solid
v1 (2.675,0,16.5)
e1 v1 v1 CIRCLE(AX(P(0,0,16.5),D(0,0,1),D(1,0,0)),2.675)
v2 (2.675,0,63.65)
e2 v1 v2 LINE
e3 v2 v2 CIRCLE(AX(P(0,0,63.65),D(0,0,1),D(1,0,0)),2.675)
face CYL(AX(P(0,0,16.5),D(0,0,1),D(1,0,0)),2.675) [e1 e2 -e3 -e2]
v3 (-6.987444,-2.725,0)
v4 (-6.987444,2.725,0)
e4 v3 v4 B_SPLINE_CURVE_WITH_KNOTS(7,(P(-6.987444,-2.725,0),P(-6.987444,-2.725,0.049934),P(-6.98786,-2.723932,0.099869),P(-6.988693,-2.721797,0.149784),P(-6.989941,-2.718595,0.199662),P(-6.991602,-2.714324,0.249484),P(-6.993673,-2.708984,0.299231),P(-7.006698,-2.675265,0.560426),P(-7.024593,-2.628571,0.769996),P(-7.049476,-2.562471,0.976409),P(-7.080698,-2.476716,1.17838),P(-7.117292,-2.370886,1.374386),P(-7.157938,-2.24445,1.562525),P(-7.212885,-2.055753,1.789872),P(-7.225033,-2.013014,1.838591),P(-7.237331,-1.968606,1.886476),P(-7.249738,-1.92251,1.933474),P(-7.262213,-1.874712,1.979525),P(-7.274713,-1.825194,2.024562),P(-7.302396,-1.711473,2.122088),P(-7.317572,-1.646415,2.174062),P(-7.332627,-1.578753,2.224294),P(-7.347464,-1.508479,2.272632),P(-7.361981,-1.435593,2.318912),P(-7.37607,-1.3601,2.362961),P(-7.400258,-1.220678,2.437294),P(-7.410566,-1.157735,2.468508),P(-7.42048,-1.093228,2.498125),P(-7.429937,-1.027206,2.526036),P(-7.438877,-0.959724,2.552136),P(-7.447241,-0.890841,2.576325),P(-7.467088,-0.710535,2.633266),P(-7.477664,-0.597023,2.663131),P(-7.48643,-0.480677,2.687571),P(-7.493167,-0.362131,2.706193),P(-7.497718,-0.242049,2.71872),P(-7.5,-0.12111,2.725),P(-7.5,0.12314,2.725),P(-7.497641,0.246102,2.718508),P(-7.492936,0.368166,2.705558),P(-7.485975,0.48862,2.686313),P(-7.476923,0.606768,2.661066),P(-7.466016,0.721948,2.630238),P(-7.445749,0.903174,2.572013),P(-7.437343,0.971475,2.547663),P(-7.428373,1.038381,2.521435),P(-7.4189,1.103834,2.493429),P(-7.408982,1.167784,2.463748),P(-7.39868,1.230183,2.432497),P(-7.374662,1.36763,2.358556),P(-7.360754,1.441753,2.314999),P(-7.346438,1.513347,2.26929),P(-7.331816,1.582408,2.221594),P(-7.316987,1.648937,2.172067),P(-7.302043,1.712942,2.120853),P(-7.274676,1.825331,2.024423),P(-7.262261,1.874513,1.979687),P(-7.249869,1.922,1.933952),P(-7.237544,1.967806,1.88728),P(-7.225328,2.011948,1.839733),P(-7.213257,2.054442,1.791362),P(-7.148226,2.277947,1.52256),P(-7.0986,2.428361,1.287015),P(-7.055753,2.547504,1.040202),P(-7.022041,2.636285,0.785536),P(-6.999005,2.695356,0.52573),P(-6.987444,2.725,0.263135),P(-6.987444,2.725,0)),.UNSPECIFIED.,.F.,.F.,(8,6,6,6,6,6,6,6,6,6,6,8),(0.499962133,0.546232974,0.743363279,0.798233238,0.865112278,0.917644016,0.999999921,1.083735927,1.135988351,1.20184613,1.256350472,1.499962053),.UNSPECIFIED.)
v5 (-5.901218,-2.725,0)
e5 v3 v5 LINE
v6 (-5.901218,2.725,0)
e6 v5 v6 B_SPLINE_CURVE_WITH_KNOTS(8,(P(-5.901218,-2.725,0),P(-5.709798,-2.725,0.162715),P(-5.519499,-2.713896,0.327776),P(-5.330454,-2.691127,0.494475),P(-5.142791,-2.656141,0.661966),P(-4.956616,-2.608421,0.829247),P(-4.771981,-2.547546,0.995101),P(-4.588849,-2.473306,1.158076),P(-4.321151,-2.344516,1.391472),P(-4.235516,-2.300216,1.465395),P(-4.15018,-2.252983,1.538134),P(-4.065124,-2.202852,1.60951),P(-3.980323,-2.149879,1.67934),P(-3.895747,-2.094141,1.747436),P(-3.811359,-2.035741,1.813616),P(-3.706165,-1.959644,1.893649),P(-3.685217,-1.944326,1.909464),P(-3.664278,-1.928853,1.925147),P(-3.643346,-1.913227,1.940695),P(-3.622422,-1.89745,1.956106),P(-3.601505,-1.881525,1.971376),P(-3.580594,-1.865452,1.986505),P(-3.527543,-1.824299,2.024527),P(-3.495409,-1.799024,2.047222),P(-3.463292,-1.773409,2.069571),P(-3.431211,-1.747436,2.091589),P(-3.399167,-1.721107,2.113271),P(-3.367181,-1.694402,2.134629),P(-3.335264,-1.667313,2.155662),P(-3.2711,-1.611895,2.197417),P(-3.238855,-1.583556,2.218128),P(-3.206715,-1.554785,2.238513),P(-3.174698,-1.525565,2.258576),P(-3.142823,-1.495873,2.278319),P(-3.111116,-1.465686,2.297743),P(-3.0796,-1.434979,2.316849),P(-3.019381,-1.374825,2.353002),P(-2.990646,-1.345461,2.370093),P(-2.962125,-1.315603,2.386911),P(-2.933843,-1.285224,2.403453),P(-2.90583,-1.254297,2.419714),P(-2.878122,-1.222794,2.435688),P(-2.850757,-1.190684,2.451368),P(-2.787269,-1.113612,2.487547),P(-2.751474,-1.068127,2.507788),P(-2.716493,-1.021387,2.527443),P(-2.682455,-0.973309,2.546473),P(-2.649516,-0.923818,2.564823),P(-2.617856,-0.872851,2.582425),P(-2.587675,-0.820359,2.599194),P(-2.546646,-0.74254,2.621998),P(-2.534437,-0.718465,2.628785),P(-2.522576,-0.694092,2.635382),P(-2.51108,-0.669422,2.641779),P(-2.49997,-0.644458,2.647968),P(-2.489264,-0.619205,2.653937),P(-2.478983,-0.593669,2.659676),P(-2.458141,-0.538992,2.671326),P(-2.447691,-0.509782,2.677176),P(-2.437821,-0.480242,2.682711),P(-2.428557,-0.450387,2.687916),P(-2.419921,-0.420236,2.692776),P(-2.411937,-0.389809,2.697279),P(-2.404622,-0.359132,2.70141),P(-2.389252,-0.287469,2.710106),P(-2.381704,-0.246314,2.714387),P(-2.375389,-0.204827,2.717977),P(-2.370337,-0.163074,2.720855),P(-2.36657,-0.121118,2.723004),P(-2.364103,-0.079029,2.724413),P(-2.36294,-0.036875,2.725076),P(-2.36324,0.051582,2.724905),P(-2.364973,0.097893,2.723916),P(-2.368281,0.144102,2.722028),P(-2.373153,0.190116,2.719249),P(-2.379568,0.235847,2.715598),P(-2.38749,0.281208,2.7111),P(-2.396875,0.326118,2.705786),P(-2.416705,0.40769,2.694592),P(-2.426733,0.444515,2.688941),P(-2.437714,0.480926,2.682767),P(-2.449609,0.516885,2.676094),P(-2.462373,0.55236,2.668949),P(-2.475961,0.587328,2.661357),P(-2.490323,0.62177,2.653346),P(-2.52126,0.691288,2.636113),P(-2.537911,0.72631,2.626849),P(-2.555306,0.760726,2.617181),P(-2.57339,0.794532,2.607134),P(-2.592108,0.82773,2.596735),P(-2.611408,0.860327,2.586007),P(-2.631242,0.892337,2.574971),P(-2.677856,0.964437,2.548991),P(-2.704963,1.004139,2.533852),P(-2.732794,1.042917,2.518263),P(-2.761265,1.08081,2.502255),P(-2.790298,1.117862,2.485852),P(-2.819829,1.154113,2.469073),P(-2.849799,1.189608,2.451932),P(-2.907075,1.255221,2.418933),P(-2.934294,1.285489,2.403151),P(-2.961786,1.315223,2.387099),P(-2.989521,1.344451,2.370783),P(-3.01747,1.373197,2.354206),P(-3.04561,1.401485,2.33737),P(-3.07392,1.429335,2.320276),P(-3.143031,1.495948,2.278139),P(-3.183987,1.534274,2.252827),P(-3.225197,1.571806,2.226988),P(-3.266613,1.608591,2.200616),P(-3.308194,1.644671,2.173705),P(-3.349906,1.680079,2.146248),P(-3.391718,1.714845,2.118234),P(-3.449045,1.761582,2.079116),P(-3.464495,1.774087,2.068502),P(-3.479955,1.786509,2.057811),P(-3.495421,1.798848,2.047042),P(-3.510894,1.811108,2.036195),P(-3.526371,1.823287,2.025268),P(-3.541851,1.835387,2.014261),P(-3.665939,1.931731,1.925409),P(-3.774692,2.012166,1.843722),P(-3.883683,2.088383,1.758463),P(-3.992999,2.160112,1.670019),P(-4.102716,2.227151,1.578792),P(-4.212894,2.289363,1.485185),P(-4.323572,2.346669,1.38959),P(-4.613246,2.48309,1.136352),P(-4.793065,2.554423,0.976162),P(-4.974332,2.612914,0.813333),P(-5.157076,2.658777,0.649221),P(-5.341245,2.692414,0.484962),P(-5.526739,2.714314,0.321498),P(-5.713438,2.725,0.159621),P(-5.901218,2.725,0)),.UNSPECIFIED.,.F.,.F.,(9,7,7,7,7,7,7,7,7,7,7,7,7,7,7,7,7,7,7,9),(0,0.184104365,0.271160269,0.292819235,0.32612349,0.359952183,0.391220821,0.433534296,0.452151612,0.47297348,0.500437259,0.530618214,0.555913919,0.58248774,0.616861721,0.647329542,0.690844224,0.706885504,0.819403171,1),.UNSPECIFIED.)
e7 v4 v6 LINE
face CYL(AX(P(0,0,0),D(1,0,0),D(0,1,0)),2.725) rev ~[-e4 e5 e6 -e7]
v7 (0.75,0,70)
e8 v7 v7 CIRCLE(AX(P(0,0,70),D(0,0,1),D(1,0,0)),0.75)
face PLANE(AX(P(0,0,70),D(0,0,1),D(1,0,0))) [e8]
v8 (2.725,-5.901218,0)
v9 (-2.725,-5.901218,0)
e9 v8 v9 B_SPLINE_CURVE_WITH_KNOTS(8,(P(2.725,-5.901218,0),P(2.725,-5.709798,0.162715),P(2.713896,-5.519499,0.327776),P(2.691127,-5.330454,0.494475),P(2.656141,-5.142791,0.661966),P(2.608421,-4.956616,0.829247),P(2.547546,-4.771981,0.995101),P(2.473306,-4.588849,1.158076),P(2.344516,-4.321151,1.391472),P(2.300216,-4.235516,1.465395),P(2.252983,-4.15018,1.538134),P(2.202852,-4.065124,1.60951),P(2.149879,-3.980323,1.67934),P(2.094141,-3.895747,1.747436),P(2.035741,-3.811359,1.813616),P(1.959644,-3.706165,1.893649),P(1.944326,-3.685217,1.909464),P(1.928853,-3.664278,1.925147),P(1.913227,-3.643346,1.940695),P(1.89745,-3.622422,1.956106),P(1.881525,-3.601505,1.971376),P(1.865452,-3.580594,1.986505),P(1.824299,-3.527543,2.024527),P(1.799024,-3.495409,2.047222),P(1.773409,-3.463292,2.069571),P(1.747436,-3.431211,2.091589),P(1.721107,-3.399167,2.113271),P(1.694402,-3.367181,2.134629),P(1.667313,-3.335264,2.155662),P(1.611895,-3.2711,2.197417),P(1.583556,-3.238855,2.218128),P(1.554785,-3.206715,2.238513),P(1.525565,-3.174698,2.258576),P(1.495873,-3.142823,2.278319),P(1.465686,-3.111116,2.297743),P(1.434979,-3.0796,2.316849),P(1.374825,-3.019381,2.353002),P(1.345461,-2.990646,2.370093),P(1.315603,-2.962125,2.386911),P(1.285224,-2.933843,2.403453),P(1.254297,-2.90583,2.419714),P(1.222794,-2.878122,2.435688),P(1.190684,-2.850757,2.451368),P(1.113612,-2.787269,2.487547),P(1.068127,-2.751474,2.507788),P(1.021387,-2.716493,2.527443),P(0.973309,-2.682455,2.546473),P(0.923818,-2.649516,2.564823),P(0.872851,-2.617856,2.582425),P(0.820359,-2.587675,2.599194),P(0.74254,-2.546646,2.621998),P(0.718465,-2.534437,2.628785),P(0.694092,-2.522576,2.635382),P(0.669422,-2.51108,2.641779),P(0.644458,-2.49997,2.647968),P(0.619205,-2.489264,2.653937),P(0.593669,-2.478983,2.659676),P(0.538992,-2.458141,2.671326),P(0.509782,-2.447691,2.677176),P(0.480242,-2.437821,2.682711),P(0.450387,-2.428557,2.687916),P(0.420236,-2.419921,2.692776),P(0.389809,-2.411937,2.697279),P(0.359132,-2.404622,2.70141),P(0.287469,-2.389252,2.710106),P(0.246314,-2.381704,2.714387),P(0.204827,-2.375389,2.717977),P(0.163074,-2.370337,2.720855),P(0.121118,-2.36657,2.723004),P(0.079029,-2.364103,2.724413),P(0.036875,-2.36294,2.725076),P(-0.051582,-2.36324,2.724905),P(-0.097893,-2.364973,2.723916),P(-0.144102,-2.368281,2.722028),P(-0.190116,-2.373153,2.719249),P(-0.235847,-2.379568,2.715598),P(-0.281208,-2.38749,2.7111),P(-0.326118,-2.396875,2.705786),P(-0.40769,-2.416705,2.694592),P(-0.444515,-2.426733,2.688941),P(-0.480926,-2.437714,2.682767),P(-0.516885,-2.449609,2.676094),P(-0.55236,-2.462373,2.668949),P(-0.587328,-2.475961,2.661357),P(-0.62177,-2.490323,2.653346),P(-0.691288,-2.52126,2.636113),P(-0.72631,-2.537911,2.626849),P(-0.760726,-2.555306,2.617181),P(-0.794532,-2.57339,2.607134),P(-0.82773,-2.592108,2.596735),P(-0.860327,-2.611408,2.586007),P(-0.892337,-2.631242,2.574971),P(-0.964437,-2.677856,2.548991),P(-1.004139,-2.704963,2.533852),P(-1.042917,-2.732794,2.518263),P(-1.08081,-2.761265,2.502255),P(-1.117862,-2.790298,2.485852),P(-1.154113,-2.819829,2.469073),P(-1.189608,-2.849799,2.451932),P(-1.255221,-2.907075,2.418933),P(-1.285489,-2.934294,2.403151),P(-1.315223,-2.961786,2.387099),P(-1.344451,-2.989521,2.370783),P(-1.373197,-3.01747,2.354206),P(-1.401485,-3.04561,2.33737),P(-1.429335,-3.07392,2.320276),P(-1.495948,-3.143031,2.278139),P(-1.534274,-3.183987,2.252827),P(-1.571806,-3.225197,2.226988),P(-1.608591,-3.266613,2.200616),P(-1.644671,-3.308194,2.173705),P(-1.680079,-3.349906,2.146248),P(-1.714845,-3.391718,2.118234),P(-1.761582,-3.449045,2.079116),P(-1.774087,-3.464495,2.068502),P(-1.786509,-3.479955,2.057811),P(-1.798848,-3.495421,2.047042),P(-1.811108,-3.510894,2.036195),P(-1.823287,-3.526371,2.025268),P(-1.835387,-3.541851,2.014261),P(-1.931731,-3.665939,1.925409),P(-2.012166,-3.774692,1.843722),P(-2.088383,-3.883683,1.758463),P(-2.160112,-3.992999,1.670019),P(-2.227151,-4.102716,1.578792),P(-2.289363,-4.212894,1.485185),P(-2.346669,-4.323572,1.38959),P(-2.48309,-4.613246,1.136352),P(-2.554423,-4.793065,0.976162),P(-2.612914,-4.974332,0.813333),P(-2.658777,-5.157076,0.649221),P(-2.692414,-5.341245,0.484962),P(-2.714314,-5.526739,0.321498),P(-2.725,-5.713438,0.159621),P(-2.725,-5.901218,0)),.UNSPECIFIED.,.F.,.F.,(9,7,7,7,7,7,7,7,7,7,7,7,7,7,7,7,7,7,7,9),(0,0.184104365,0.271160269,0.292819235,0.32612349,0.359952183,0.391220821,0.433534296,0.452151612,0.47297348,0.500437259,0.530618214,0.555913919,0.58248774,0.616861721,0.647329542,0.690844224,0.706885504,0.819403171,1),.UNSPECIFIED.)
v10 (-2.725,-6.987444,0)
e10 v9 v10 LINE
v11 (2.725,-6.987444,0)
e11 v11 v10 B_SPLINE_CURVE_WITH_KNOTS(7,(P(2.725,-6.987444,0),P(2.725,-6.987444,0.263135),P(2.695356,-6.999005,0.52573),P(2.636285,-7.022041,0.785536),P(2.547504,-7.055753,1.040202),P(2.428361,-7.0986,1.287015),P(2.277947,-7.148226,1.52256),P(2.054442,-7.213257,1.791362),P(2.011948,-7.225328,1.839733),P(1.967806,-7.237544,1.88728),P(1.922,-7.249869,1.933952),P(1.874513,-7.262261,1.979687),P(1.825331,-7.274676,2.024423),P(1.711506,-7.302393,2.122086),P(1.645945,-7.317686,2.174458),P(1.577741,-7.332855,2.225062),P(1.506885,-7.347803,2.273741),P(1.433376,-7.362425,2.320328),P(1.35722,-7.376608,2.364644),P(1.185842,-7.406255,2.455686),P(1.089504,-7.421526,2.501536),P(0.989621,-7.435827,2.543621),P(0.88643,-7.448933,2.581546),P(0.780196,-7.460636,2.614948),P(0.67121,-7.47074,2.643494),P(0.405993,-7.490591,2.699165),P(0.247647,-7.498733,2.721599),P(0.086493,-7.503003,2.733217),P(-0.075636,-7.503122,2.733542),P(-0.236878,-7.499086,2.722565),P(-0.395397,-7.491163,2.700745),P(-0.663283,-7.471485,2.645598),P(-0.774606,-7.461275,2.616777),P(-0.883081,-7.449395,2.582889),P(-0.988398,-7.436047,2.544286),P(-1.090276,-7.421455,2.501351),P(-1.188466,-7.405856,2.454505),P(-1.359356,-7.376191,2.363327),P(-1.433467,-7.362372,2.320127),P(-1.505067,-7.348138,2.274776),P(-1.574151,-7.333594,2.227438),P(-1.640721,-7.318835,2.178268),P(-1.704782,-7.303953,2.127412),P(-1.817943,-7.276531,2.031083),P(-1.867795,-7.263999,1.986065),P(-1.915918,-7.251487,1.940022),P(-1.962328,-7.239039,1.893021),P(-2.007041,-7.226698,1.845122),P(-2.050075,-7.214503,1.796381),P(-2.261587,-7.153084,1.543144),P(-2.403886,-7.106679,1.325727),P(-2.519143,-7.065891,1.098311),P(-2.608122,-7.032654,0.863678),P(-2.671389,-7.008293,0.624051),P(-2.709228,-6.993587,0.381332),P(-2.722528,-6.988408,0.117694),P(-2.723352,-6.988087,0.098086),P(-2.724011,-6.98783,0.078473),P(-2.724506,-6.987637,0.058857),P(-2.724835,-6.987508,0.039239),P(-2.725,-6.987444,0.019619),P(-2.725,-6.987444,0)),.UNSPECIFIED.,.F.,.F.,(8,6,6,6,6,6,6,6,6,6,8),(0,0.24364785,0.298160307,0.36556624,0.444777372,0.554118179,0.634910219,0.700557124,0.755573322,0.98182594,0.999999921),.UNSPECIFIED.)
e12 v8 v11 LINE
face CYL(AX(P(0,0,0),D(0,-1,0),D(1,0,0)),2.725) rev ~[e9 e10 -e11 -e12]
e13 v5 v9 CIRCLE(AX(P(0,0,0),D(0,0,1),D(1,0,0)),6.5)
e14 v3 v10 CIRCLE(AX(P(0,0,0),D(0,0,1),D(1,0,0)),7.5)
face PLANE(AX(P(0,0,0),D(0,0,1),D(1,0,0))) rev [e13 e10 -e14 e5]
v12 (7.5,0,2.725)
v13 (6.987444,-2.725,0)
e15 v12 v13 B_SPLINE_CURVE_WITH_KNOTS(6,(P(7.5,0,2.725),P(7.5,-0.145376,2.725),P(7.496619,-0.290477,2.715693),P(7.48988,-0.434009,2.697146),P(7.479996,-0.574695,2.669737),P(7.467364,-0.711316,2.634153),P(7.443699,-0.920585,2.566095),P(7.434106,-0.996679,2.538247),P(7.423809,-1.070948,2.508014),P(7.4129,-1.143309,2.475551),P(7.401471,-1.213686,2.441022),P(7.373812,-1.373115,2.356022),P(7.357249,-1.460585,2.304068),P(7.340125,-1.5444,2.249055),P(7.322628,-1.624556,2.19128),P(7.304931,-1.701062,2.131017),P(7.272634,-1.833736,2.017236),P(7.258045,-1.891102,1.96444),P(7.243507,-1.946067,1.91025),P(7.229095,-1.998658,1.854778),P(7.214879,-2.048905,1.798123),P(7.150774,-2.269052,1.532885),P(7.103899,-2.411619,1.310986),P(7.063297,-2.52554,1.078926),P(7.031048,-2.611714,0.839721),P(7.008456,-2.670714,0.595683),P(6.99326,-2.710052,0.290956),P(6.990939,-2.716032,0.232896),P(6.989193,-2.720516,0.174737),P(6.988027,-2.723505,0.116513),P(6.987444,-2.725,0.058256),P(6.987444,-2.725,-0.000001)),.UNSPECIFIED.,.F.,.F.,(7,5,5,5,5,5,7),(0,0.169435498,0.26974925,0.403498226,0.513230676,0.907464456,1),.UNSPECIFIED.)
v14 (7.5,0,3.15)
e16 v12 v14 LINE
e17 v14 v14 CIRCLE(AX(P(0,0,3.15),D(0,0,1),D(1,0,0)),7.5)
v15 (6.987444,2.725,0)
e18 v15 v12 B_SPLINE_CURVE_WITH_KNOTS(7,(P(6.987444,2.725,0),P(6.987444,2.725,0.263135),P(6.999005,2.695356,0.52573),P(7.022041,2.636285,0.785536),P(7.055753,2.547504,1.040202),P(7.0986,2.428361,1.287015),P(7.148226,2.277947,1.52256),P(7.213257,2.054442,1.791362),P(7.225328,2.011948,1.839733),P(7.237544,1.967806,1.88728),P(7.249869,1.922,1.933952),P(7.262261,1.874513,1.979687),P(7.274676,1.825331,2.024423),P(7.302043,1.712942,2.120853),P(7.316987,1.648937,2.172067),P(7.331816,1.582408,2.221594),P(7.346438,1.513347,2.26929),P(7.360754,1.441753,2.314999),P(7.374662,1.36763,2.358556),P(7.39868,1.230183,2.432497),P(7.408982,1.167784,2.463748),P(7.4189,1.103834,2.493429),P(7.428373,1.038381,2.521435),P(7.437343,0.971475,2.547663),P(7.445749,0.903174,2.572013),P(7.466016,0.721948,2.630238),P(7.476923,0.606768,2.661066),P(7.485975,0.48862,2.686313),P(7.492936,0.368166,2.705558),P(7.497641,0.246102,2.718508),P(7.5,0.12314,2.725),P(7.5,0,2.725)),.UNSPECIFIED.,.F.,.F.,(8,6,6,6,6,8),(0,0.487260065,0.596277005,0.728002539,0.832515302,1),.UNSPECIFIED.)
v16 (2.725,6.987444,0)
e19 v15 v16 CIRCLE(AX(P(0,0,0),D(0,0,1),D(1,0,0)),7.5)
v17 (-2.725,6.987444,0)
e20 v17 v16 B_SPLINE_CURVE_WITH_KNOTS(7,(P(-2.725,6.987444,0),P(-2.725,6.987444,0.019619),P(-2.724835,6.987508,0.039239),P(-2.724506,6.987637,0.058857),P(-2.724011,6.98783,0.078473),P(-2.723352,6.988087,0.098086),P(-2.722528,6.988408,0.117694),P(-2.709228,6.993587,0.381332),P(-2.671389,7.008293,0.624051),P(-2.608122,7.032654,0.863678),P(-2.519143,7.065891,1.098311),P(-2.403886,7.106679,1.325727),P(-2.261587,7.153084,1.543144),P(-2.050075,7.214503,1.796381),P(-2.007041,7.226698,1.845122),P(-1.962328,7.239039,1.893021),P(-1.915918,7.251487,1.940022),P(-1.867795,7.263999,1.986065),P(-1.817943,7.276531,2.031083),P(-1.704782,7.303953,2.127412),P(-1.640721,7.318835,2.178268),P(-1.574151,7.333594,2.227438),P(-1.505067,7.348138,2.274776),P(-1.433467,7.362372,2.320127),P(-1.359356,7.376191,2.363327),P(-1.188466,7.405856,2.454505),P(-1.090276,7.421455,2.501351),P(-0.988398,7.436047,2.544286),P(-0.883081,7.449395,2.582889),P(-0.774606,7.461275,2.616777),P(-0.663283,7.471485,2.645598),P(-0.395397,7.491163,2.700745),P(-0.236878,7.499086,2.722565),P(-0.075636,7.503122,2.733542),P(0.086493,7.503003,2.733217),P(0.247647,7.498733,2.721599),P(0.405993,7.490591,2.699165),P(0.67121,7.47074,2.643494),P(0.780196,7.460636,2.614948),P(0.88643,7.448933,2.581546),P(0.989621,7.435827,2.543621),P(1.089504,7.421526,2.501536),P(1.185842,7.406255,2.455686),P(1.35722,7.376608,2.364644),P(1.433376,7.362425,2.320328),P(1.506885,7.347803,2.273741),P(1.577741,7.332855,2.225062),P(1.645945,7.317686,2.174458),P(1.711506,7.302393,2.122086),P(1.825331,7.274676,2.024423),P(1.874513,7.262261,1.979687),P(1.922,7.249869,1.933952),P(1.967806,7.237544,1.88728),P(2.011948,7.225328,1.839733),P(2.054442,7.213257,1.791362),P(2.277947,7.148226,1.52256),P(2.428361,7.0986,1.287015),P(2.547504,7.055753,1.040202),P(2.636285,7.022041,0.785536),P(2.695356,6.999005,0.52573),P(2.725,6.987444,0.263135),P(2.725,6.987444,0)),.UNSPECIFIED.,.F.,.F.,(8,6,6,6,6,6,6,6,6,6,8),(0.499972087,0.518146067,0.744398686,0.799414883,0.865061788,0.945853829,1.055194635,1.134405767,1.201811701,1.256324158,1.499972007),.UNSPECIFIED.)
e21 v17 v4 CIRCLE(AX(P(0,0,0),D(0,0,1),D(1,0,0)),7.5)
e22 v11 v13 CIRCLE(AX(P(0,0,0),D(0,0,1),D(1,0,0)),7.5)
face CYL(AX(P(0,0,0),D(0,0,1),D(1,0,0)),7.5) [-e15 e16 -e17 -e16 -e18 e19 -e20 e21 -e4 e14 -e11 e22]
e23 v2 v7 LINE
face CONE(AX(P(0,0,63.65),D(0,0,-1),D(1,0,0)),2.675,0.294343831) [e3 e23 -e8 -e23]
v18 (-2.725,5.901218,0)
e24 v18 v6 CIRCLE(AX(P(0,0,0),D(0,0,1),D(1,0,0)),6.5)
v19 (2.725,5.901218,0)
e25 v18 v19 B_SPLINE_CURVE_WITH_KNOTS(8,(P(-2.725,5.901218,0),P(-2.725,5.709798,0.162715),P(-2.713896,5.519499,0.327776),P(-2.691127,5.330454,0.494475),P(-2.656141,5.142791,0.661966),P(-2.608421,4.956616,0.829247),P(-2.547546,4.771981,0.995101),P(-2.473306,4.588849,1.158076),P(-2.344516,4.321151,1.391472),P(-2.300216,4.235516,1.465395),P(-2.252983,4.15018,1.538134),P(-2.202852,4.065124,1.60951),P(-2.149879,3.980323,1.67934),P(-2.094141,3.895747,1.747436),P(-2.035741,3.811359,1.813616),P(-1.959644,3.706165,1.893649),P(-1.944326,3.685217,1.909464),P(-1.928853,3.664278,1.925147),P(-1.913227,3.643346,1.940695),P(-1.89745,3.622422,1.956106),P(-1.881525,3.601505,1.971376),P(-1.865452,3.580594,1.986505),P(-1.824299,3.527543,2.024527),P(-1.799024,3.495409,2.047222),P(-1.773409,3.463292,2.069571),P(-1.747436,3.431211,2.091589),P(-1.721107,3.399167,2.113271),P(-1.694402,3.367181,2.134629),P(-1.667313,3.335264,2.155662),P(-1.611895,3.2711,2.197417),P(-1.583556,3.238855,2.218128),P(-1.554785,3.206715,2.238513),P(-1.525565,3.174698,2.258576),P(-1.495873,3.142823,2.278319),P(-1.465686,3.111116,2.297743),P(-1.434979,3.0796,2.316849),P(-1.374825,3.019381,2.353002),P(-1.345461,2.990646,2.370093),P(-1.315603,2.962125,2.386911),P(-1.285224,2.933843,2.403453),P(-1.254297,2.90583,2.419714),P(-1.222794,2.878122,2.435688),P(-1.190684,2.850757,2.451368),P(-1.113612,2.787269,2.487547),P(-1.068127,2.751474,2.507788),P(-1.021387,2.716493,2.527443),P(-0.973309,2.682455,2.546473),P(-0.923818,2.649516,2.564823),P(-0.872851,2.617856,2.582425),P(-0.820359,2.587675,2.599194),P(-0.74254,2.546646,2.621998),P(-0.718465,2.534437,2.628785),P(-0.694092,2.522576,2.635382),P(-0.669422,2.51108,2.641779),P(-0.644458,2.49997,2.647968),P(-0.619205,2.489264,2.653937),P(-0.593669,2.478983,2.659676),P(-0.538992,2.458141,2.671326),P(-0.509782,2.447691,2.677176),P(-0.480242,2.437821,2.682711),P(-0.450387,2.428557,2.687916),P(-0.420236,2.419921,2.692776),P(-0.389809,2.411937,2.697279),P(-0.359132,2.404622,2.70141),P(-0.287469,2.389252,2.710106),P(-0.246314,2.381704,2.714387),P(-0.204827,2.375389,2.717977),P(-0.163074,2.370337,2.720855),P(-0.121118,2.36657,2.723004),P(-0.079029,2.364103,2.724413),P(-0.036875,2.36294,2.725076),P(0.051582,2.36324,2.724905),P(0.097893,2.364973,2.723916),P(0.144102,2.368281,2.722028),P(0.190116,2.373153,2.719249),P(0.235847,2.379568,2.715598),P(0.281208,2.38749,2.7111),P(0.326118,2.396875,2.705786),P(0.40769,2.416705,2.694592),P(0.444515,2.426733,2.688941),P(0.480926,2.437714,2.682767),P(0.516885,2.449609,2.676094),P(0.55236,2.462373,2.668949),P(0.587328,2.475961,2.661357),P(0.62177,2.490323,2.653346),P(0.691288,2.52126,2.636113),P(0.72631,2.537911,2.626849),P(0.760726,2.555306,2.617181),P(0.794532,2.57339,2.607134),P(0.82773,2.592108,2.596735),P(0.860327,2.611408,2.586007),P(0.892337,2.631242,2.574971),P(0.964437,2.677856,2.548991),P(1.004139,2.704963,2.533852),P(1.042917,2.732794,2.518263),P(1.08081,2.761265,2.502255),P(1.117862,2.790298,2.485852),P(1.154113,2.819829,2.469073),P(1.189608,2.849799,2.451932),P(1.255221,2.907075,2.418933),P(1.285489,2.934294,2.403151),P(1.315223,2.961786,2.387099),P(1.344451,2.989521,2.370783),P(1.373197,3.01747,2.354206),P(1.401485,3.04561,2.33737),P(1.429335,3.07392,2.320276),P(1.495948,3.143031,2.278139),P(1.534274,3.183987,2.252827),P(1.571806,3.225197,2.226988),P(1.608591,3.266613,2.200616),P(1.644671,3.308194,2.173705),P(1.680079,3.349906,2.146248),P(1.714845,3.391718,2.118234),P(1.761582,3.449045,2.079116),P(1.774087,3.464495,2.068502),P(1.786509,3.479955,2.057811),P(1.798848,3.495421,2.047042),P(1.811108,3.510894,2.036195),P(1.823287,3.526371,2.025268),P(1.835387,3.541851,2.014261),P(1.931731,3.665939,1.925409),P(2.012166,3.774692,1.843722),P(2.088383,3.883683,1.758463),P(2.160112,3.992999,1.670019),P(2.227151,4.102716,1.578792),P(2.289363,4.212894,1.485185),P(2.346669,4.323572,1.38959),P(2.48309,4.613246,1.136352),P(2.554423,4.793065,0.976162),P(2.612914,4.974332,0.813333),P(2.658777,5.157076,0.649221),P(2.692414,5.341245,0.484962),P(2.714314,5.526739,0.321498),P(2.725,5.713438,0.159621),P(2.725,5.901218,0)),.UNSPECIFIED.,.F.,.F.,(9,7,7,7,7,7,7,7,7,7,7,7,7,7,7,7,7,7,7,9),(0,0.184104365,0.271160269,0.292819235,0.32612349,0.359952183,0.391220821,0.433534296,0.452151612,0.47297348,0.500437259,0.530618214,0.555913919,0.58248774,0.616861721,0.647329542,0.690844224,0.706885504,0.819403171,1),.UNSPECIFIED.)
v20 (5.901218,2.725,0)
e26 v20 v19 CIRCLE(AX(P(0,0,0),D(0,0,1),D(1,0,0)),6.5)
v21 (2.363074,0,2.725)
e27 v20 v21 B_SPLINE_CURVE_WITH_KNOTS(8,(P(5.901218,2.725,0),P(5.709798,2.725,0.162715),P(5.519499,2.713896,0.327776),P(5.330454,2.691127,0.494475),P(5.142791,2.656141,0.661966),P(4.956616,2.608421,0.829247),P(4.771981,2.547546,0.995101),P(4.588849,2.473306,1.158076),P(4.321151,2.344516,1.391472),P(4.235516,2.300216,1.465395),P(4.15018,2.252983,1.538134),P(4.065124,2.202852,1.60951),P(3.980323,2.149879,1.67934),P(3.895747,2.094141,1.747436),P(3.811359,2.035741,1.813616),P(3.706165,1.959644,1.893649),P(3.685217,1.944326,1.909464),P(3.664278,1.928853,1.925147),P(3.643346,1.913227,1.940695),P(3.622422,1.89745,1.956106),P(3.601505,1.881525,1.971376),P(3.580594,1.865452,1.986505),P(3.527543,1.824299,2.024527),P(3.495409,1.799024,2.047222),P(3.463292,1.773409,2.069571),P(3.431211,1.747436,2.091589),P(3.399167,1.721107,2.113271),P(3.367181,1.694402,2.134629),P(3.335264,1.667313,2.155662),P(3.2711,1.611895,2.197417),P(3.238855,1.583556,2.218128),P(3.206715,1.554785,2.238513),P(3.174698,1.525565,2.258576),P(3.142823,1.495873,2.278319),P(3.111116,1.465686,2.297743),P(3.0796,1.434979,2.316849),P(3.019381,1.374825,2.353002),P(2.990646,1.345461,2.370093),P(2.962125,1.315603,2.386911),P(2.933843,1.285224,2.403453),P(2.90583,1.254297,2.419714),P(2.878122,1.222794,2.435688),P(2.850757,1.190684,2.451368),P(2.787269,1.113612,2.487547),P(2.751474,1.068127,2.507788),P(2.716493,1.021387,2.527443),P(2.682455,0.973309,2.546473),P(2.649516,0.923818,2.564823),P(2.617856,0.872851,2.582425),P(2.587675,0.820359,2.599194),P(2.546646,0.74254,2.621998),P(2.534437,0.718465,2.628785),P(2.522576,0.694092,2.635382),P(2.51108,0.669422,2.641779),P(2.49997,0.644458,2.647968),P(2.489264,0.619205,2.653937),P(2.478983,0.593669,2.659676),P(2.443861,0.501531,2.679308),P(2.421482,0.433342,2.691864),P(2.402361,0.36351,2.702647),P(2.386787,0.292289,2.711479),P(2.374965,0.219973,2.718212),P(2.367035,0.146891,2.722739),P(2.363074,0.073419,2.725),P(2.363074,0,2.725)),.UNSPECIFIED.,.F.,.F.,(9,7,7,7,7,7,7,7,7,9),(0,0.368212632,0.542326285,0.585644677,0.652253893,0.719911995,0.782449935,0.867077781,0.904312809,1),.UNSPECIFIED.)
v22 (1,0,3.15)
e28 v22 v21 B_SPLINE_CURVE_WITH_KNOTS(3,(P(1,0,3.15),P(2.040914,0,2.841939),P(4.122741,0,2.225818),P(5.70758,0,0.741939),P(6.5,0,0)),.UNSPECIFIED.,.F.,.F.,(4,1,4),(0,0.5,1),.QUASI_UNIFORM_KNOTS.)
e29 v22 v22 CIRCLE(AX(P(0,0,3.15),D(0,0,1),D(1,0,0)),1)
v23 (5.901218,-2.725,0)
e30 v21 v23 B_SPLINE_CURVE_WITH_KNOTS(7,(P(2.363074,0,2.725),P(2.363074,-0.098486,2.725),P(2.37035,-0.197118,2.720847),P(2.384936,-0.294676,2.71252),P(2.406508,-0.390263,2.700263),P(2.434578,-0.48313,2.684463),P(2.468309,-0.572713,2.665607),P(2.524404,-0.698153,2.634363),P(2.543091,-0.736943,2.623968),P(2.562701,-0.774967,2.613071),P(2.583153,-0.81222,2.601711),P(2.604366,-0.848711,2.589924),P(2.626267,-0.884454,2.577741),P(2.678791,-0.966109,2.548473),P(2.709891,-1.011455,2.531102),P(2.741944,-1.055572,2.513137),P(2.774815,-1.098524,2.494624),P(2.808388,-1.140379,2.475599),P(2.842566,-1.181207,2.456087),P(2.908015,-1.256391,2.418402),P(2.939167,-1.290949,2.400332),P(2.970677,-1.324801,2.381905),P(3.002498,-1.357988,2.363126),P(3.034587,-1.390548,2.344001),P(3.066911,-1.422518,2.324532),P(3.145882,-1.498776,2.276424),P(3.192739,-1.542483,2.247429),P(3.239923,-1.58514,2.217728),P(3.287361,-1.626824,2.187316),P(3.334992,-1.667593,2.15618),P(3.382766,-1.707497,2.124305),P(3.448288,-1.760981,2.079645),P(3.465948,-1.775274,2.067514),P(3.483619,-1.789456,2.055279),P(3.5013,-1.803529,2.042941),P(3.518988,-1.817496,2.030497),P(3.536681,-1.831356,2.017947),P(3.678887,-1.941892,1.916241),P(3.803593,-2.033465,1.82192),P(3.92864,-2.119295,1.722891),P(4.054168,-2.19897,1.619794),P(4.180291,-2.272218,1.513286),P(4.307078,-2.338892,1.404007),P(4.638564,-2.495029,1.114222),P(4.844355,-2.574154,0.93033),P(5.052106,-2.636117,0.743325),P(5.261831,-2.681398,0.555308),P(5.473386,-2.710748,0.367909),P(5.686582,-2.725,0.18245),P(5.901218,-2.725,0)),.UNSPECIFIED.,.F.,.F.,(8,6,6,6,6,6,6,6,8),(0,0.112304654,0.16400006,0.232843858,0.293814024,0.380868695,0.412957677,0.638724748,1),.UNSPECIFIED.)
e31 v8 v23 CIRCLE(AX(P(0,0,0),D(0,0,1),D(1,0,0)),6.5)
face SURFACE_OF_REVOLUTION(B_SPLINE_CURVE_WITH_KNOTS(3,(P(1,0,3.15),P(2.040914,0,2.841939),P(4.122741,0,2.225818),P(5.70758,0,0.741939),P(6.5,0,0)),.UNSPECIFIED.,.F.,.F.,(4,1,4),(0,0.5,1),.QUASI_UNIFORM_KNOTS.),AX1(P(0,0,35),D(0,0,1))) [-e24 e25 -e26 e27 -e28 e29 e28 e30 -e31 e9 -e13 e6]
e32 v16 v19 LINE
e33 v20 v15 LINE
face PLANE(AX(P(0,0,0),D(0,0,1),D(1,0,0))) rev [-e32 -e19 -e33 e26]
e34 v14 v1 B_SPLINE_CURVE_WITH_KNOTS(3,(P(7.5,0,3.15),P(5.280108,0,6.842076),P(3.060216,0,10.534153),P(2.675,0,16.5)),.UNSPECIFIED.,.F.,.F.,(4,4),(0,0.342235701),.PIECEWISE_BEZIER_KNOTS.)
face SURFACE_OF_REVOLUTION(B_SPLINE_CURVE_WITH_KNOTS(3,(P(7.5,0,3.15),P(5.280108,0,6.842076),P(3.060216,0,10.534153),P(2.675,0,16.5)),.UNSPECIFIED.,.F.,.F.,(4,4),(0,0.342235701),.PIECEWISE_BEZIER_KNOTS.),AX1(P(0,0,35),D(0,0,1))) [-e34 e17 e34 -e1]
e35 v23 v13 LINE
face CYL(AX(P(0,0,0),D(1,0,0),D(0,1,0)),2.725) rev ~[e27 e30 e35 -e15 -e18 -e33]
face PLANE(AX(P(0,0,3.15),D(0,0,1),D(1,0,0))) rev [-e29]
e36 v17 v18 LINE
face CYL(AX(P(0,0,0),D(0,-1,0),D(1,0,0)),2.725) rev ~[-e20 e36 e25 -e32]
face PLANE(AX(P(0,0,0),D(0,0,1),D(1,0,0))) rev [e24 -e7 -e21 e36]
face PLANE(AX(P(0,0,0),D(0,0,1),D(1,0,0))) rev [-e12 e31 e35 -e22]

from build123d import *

# Parameters (mm, degrees)
F2_R     = 2.725
F3_DEPTH = 7.5
F4_R     = 2.725
F5_DEPTH = 7.5


with BuildPart() as f1:
    # F0 (on Front) → F1 (revolve)
    with BuildSketch(Plane.XZ):
        with BuildLine():
            Line((0, 70), (0, 3.15))
            Line((0, 3.15), (1, 3.15))
            add(Edge.make_bspline(
                [(1, 3.15), (2.04091373, 2.841939317), (4.1227411901, 2.2258179509), (5.7075803967, 0.741939317), (6.5, 0)],
                knots=[0, 0, 0, 0, 0.5, 1, 1, 1, 1], degree=3))
            Line((6.5, 0), (7.5, 0))
            Line((7.5, 0), (7.5, 3.15))
            add(Edge.make_bspline(
                [(7.5, 3.15), (5.2801080633, 6.8420764949), (3.0602161266, 10.5341529899), (2.675, 16.5)],
                knots=[0, 0, 0, 0, 0.3422357012, 0.3422357012, 0.3422357012, 0.3422357012], degree=3))
            add(Edge.make_bspline(
                [(2.675, 16.5), (2.5909368652, 17.8018868292), (2.5942435778, 19.2120538145), (2.675, 20.7182066219)],
                knots=[0.3422357012, 0.3422357012, 0.3422357012, 0.3422357012, 0.4169195057, 0.4169195057, 0.4169195057, 0.4169195057], degree=3))
            Line((2.675, 20.7182066219), (2.675, 63.65))
            Line((2.675, 63.65), (0.75, 70))
            Line((0.75, 70), (0, 70))
        make_face()
        with BuildLine():
            Line((2.675, 16.5), (2.675, 20.7182066219))
            add(Edge.make_bspline(
                [(2.675, 16.5), (2.5909368652, 17.8018868292), (2.5942435778, 19.2120538145), (2.675, 20.7182066219)],
                knots=[0.3422357012, 0.3422357012, 0.3422357012, 0.3422357012, 0.4169195057, 0.4169195057, 0.4169195057, 0.4169195057], degree=3))
        make_face()
    revolve(axis=Axis((0, 0, 35), (0, 0, 1)))

    # F2 (on Front) → F3 (cut, symmetric)
    with BuildSketch(Plane.XZ):
        Circle(F2_R)
    extrude(amount=F3_DEPTH, both=True, mode=Mode.SUBTRACT)

    # F4 (on Right) → F5 (cut, symmetric)
    with BuildSketch(Plane.YZ):
        Circle(F4_R)
    extrude(amount=F5_DEPTH, both=True, mode=Mode.SUBTRACT)


solid = f1.part
